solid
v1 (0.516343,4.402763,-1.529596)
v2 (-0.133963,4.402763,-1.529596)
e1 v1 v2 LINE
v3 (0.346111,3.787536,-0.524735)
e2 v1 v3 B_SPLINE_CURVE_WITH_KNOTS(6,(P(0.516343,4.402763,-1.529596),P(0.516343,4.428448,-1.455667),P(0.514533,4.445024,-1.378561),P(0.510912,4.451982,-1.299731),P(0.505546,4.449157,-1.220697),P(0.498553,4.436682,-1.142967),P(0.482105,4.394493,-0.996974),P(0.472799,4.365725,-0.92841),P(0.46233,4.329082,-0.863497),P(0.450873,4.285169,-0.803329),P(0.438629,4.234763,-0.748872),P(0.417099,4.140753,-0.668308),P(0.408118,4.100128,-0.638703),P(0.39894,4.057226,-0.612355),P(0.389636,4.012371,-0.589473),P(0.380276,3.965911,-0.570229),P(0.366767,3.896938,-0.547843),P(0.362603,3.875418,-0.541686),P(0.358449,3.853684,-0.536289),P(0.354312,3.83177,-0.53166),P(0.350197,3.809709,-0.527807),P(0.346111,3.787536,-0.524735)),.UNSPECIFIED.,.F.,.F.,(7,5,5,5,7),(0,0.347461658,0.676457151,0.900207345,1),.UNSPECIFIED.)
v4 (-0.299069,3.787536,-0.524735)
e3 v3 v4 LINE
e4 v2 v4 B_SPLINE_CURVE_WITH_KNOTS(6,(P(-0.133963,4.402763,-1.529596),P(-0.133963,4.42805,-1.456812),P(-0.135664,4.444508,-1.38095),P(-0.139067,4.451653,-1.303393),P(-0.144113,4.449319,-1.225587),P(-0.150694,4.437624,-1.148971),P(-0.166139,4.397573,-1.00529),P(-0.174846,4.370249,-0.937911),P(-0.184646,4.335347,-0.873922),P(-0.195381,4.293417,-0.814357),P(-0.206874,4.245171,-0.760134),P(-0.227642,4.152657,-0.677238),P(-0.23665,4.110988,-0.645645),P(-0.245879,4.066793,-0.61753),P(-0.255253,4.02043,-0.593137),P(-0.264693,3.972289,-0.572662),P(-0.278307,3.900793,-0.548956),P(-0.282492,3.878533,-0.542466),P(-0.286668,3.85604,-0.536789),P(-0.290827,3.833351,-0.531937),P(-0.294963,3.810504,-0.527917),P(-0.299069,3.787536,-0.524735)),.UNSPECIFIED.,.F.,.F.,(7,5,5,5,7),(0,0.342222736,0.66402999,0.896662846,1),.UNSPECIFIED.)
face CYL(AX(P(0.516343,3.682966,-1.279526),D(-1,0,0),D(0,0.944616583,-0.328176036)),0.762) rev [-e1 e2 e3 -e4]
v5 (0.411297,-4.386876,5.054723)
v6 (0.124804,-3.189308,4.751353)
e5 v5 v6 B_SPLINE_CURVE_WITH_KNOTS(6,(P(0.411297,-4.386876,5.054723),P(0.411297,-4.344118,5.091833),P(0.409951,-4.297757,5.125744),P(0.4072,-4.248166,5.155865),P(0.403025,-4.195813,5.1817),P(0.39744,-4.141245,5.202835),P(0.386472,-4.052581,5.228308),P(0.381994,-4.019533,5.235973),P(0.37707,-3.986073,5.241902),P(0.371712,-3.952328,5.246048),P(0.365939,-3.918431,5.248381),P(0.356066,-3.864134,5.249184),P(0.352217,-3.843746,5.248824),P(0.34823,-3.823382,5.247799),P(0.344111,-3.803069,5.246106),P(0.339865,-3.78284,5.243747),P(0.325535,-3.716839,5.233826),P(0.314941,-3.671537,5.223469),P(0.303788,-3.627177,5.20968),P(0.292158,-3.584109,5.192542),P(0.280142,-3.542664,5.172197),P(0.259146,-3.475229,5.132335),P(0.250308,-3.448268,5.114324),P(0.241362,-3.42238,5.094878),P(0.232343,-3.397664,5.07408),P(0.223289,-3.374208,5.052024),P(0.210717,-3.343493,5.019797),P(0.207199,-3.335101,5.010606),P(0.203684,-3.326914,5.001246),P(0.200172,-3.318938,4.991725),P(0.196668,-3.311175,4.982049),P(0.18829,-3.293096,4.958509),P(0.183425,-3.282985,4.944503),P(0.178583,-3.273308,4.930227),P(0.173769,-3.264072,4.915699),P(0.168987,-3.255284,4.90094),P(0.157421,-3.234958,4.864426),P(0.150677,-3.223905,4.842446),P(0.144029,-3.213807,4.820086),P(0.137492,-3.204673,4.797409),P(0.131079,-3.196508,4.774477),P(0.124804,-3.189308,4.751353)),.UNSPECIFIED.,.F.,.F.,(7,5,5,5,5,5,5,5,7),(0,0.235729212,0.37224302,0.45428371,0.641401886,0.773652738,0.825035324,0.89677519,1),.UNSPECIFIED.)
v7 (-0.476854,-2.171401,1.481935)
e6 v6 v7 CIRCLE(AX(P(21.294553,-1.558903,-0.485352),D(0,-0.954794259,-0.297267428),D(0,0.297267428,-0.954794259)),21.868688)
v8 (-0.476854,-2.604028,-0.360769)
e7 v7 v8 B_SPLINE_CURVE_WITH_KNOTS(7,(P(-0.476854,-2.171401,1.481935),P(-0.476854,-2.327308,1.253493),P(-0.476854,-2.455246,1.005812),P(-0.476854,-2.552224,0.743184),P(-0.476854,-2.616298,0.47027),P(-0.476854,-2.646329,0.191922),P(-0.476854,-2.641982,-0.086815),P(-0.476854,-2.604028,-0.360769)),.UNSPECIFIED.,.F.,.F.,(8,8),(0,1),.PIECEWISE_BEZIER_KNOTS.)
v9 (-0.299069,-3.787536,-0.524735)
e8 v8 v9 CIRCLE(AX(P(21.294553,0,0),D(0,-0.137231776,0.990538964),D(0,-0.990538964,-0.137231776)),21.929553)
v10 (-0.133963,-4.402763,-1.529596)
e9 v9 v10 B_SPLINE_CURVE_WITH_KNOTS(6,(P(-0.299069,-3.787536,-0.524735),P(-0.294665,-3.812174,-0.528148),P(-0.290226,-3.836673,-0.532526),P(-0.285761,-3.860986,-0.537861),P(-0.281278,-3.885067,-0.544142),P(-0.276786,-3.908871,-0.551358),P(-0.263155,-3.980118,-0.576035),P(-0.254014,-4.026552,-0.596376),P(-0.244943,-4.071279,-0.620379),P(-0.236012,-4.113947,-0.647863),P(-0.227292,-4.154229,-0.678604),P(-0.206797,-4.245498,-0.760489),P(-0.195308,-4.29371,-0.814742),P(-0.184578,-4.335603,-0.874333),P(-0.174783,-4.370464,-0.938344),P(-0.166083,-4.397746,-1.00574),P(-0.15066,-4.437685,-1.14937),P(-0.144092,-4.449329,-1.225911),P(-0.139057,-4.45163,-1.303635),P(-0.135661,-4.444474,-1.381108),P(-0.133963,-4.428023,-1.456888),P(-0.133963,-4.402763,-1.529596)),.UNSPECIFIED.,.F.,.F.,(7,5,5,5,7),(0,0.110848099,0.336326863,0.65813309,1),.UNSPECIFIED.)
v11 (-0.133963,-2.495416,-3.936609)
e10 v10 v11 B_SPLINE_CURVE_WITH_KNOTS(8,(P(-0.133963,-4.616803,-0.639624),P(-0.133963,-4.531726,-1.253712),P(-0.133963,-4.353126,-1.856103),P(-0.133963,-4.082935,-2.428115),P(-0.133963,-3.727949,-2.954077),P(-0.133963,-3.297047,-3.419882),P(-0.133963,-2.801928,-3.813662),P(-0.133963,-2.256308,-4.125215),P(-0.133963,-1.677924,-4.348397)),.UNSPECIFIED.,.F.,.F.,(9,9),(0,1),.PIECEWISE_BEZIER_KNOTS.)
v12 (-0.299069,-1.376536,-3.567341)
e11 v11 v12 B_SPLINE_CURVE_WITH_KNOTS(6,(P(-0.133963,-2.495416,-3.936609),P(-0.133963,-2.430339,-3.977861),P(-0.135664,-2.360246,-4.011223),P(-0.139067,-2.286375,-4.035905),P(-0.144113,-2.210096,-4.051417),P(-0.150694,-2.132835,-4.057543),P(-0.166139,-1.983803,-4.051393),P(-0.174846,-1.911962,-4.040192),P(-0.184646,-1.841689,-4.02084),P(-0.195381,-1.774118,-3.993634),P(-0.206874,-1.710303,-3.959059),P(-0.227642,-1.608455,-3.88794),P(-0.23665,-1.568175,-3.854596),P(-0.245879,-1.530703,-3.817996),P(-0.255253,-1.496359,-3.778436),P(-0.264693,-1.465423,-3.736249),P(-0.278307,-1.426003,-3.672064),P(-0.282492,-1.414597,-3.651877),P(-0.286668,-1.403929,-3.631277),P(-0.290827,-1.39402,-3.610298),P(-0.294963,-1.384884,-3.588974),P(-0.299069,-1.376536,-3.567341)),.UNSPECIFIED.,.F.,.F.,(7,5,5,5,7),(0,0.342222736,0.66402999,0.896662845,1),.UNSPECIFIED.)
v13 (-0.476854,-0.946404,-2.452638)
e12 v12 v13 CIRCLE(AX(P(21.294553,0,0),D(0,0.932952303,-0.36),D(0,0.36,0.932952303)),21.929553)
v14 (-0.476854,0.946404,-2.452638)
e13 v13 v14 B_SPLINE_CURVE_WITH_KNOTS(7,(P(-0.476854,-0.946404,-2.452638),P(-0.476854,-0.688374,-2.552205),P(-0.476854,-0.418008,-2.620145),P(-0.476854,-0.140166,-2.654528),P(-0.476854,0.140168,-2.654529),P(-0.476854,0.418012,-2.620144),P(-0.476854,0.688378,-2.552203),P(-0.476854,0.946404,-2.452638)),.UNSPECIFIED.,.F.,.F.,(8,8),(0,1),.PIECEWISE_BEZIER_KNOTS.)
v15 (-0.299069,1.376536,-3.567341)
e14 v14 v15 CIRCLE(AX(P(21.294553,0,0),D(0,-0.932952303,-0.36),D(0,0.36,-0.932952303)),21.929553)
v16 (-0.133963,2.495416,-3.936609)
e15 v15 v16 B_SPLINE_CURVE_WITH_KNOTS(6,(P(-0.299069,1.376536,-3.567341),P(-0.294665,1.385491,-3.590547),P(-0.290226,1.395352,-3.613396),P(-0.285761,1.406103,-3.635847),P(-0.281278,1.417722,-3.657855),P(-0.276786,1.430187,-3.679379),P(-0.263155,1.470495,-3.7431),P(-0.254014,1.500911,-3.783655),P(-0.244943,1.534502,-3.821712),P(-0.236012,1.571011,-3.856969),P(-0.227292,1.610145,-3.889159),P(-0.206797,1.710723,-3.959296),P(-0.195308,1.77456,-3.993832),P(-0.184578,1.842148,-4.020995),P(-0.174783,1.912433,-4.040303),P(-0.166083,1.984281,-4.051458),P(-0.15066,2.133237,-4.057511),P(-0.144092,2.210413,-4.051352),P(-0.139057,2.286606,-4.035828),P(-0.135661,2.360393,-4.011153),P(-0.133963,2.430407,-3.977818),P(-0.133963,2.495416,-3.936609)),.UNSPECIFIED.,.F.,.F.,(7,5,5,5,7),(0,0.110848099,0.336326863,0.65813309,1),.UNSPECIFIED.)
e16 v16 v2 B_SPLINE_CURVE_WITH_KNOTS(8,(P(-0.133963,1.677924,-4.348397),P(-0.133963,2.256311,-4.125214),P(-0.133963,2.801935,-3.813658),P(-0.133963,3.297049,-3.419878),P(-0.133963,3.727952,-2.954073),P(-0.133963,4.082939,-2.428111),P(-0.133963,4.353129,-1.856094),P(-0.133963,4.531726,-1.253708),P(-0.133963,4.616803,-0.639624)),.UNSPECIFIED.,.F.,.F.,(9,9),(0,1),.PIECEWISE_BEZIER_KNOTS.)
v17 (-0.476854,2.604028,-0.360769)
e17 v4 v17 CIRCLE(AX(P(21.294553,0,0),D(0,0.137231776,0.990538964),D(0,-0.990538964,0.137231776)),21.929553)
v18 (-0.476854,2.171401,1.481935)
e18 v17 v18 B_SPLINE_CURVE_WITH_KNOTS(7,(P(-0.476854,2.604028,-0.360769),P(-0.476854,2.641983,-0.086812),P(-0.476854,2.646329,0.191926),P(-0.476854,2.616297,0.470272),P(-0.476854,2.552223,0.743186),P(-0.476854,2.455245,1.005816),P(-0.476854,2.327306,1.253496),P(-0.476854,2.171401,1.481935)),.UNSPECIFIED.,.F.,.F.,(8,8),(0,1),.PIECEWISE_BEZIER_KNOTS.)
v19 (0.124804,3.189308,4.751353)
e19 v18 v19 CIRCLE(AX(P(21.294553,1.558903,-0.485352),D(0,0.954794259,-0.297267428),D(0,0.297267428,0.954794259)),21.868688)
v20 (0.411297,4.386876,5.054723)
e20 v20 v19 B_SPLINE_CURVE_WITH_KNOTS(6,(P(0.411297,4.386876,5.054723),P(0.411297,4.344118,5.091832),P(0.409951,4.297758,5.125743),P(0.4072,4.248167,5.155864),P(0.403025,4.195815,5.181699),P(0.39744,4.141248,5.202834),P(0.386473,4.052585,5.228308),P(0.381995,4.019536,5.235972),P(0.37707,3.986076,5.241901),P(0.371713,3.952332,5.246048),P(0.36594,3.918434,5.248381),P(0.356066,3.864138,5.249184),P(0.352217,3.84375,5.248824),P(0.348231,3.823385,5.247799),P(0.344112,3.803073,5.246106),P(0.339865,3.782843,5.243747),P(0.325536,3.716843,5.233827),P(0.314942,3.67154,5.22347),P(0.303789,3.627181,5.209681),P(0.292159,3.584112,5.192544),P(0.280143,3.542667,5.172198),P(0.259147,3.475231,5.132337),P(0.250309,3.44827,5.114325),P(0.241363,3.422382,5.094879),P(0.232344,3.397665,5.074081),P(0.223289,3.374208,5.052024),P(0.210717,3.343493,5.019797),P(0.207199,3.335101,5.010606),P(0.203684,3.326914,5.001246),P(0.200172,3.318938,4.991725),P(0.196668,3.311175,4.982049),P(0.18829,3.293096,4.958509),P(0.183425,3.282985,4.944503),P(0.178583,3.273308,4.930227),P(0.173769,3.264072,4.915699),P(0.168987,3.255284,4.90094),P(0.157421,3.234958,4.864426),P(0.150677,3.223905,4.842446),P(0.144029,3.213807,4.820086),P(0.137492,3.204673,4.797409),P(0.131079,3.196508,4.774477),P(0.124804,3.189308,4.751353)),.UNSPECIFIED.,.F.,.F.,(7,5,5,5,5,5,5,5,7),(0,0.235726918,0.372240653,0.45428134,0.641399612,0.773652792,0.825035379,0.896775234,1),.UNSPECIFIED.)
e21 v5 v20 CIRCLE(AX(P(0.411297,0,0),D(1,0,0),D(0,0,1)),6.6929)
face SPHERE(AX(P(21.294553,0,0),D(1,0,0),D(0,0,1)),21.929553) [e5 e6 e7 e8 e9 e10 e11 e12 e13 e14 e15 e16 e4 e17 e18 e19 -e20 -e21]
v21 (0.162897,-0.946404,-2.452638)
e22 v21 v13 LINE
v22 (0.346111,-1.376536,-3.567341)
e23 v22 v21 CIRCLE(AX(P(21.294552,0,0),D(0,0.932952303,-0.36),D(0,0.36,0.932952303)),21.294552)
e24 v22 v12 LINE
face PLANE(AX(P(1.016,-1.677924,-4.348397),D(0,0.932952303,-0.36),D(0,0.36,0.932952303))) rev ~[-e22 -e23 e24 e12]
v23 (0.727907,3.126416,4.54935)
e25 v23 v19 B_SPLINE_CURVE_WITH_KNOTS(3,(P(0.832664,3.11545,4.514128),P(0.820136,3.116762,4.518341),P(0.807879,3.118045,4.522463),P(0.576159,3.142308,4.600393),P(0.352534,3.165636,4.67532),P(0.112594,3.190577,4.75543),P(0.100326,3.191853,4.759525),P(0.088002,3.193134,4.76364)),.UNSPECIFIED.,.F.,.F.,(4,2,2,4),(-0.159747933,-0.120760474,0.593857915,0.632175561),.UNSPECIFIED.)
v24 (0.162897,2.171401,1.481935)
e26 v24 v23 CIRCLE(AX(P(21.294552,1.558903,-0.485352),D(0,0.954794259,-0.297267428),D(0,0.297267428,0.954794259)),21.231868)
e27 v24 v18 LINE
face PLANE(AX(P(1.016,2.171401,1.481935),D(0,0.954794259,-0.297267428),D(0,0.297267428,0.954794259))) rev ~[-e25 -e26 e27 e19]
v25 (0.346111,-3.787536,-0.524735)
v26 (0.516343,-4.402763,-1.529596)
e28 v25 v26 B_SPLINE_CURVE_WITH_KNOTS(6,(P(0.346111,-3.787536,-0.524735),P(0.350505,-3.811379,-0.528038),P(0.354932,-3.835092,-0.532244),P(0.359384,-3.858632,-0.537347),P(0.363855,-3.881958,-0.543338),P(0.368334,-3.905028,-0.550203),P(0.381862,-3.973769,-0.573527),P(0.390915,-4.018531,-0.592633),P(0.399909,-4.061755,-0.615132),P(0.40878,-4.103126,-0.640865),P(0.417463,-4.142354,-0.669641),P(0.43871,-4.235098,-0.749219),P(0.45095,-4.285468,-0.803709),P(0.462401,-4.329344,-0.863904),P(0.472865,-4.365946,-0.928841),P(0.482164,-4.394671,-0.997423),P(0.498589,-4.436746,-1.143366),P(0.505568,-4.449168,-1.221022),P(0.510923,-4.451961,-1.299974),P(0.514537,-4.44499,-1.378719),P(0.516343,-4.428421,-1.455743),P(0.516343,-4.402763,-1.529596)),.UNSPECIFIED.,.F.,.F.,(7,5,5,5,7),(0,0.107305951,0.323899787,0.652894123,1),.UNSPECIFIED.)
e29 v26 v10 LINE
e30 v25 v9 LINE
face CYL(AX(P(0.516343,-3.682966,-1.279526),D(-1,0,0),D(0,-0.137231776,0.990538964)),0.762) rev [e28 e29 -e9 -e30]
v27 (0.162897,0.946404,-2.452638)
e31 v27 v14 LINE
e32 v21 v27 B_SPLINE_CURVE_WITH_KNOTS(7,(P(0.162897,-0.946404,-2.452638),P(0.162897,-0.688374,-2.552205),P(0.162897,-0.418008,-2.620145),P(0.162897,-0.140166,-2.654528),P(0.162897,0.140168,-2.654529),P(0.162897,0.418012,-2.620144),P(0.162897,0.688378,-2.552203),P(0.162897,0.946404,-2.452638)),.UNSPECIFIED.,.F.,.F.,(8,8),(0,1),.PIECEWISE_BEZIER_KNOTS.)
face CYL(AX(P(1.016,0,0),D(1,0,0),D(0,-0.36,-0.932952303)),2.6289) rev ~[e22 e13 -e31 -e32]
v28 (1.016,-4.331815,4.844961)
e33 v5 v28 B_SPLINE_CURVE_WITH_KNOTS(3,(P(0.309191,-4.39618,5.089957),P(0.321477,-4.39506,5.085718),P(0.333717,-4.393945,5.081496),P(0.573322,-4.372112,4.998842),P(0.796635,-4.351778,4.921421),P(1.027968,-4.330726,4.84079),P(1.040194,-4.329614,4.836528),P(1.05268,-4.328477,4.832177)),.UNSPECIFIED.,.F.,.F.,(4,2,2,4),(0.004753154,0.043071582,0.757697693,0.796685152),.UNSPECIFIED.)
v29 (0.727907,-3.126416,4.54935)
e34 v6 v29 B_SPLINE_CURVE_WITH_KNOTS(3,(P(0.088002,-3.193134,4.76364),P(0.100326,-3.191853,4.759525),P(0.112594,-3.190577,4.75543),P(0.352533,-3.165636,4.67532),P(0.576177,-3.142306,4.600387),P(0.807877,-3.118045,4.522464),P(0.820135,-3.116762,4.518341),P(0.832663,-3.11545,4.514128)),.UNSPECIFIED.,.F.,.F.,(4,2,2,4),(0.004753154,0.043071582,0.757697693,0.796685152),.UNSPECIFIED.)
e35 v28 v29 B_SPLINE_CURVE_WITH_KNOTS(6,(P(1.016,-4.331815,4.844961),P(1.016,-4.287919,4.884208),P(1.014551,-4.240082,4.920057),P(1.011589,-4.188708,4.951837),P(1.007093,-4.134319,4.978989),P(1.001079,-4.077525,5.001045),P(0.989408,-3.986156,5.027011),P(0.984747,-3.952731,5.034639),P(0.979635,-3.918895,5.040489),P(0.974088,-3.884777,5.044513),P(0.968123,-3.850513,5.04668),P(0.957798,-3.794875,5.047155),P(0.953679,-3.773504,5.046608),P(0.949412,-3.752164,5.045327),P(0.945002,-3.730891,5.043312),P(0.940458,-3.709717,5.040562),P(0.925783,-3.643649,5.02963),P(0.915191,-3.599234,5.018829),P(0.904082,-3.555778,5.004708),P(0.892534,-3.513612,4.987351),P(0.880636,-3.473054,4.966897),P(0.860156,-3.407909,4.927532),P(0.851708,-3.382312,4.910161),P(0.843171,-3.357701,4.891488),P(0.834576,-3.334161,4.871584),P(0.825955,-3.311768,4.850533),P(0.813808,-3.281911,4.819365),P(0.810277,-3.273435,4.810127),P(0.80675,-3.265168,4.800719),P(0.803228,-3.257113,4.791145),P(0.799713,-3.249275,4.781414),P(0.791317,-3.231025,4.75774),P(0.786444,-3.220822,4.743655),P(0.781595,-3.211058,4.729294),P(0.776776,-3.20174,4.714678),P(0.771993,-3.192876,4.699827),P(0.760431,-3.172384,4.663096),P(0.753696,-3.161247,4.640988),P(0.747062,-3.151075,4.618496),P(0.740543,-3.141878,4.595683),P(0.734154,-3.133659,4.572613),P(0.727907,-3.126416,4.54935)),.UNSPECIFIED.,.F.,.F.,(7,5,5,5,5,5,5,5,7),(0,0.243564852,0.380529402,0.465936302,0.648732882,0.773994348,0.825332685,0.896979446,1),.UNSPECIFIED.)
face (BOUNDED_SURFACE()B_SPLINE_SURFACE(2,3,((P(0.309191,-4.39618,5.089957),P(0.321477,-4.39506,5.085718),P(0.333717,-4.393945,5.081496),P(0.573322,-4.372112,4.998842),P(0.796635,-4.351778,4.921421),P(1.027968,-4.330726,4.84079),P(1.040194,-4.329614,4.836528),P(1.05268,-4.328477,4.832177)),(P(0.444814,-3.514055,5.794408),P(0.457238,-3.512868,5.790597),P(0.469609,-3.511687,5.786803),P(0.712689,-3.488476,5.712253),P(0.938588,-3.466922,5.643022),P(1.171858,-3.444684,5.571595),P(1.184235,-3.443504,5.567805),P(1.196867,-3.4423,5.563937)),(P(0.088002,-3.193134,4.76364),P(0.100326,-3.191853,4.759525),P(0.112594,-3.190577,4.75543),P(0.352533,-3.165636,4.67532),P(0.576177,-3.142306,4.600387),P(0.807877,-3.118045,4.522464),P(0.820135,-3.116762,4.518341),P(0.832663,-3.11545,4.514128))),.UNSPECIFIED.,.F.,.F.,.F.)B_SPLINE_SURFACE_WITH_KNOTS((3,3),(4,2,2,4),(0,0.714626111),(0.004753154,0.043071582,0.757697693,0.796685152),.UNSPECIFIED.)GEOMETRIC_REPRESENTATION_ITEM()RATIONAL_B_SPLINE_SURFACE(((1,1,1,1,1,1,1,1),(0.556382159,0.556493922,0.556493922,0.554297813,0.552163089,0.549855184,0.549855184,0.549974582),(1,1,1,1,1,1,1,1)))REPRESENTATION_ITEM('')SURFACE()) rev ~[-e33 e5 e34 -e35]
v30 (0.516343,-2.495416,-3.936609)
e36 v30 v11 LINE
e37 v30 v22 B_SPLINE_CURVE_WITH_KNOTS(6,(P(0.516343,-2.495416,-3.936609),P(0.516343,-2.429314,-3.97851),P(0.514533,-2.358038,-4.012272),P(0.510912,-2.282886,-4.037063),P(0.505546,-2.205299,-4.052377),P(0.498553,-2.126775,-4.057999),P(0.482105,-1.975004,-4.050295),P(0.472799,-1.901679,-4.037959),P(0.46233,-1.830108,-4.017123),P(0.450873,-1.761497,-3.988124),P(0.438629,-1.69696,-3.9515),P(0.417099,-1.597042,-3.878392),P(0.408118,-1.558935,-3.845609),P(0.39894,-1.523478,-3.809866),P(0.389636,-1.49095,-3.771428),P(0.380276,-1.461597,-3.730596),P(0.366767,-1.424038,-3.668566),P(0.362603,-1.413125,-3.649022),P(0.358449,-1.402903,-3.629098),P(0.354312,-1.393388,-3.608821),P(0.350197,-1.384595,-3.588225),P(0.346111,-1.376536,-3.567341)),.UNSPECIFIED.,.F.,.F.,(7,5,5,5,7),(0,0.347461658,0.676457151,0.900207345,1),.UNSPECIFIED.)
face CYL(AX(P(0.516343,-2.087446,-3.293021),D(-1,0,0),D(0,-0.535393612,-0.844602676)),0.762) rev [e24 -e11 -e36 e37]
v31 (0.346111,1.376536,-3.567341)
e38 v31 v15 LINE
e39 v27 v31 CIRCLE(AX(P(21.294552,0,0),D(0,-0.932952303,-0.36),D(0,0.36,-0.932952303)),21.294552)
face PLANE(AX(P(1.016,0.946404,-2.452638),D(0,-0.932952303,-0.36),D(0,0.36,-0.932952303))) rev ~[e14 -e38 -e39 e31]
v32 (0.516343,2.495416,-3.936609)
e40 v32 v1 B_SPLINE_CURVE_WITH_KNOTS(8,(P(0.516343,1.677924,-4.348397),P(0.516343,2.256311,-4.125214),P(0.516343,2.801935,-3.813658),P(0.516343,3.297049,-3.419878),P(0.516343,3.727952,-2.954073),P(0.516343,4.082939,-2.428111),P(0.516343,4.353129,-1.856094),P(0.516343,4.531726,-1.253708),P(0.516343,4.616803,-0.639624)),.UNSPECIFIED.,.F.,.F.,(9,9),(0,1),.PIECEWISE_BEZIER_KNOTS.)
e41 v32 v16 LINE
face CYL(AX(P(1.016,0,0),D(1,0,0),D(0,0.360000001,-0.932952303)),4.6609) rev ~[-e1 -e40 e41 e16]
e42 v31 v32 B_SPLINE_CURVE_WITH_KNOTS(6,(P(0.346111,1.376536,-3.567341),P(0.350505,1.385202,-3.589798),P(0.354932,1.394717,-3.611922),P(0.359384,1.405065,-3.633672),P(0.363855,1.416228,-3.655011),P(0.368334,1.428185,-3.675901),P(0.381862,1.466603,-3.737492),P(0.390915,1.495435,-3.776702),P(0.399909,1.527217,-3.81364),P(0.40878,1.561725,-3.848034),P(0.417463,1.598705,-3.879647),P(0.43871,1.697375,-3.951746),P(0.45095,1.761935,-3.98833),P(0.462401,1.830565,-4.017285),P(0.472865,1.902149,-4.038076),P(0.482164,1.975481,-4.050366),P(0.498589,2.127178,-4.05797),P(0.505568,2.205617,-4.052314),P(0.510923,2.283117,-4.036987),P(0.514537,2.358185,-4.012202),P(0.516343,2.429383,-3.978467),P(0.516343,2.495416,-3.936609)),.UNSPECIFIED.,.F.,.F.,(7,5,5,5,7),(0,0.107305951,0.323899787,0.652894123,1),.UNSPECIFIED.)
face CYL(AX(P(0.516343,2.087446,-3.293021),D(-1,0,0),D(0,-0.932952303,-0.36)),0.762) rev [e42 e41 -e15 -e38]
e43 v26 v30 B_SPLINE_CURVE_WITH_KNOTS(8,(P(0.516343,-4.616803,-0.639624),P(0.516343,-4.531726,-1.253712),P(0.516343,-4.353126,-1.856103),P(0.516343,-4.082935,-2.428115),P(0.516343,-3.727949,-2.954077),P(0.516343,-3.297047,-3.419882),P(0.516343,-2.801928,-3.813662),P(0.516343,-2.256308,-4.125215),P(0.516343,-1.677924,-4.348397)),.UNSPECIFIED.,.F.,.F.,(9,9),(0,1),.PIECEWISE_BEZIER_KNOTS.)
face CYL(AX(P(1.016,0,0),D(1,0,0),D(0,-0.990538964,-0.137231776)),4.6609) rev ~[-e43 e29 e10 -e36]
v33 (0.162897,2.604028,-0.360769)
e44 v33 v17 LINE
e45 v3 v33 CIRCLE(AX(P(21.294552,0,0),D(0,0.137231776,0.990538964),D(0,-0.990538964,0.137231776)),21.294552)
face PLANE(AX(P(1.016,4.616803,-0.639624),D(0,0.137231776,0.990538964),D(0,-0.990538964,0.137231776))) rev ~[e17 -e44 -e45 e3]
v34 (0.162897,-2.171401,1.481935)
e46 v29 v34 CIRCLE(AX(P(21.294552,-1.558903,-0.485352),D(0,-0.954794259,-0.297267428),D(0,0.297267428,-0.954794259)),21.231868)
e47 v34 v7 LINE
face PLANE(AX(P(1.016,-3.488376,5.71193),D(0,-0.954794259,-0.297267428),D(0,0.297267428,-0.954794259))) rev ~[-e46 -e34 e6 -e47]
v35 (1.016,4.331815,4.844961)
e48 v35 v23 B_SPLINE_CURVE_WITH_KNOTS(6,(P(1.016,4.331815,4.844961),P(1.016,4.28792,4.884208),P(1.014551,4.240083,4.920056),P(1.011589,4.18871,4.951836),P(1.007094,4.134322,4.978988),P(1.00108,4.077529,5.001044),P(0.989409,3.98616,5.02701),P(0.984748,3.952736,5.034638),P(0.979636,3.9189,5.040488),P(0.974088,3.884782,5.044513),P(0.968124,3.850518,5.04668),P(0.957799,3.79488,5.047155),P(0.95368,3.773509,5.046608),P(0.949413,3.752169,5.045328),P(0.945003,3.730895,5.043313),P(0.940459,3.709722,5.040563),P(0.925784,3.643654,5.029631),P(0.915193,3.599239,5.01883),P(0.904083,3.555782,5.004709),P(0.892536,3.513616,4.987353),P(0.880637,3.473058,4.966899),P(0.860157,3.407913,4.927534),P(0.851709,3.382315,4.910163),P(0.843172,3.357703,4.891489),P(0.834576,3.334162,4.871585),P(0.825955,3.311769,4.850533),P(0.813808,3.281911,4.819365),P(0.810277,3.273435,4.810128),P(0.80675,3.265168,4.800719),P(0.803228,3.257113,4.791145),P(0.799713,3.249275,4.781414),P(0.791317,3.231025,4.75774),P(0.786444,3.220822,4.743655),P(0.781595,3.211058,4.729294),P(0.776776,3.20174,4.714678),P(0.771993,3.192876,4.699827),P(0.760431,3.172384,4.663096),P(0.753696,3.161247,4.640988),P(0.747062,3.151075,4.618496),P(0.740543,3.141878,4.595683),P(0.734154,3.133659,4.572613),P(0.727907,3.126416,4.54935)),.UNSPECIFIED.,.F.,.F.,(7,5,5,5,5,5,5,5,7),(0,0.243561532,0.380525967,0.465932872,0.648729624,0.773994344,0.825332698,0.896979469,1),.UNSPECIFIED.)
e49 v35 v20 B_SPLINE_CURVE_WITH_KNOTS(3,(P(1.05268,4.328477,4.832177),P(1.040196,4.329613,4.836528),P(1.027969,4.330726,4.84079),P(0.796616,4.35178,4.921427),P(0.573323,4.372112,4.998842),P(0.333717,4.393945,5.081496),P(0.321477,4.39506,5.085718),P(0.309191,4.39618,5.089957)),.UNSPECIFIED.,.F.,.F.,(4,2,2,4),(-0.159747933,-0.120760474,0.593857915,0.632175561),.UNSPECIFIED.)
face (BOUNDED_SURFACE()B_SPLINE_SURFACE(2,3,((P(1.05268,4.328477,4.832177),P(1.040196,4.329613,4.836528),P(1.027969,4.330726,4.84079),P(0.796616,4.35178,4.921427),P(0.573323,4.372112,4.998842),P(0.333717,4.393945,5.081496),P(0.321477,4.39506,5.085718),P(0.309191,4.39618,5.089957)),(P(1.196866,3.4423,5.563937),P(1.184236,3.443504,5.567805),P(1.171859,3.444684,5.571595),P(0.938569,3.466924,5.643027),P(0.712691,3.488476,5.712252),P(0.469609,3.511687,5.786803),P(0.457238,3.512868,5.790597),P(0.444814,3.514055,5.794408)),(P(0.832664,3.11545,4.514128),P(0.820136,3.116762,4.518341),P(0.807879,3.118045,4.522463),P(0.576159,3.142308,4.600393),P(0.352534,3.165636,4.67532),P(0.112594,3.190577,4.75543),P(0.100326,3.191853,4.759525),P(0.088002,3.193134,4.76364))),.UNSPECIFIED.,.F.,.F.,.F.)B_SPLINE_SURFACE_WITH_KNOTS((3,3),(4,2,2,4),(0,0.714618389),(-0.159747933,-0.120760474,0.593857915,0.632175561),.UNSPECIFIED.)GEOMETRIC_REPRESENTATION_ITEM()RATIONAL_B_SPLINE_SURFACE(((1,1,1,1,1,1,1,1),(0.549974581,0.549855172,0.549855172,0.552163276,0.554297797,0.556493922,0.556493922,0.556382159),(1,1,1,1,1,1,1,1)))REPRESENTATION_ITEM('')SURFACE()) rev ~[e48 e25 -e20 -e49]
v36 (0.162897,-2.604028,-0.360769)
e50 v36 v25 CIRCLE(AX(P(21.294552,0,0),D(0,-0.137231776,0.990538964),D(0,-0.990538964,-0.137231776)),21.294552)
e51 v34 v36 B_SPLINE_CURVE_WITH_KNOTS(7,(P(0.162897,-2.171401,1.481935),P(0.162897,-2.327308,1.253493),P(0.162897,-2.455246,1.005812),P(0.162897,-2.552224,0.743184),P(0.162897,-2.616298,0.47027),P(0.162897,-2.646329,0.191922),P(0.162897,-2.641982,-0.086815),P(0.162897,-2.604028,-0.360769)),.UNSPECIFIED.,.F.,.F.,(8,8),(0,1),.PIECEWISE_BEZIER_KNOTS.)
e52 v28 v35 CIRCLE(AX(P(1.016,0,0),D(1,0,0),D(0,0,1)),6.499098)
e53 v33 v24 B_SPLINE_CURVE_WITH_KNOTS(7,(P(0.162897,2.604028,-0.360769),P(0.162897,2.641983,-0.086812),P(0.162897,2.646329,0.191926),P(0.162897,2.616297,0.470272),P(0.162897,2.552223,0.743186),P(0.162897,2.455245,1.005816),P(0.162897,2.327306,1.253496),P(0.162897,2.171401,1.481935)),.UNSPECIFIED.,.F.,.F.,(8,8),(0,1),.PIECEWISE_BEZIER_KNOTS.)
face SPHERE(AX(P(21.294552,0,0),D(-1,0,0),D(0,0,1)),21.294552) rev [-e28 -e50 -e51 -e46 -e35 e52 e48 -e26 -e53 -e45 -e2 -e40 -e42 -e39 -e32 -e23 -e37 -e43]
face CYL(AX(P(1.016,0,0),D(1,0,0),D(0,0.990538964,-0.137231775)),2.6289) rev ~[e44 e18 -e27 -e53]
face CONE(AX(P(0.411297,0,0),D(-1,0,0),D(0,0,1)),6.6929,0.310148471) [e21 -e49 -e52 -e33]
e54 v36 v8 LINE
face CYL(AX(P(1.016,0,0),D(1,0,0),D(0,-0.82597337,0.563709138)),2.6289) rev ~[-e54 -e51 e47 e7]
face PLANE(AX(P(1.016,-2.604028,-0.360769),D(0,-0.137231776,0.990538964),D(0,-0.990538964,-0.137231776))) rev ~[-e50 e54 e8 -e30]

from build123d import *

# Parameters (mm, degrees)
CUT_EXTRUDE1_DEPTH = 10.608101884
FILLET1_R          = 0.762


with BuildPart() as part:
    # Sketch2 → Revolve1 (revolve)
    with BuildSketch(Plane(origin=(0, 0, 0), x_dir=(1, 0, 0), z_dir=(0, 1, 0)), mode=Mode.PRIVATE) as revolve1_sk:
        with BuildLine():
            Line((0.41129695, 6.6929), (1.016, 6.499097983))
            ThreePointArc((1.016, 6.499097983), (0.255533191, 3.289016973), (0, 0))
            Line((0, 0), (-0.635, 0))
            ThreePointArc((-0.635, 0), (-0.371846852, 3.38709491), (0.41129695, 6.6929))
        make_face()
    revolve(revolve1_sk.sketch.rotate(Axis((0, 0, 0), (1, 0, 0)), 180), axis=Axis((0, 0, 0), (1, 0, 0)))

    # Sketch1 → Cut-Extrude1 (cut, through all)
    with BuildSketch(Plane(origin=(1.016, 0, 0), x_dir=(0, 0, -1), z_dir=(1, 0, 0))):
        with BuildLine():
            Line((-5.711929949, -3.488375935), (-1.481934955, -2.171401391))
            ThreePointArc((-1.481934955, -2.171401391), (-0.600870128, -2.559310512), (0.360768614, -2.604027883))
            Line((0.360768614, -2.604027883), (0.639623582, -4.616803059))
            ThreePointArc((0.639623582, -4.616803059), (2.89470911, -3.653032709), (4.34839739, -1.677924))
            Line((4.34839739, -1.677924), (2.45263831, -0.946404))
            ThreePointArc((2.45263831, -0.946404), (2.6289, 0), (2.45263831, 0.946404))
            Line((2.45263831, 0.946404), (4.34839739, 1.677924))
            ThreePointArc((4.34839739, 1.677924), (2.89470911, 3.653032709), (0.639623582, 4.616803059))
            Line((0.639623582, 4.616803059), (0.360768614, 2.604027883))
            ThreePointArc((0.360768614, 2.604027883), (-0.600870128, 2.559310512), (-1.481934955, 2.171401391))
            Line((-1.481934955, 2.171401391), (-5.711929949, 3.488375935))
            ThreePointArc((-5.711929949, 3.488375935), (-6.6929, 0), (-5.711929949, -3.488375935))
        make_face()
    extrude(amount=-CUT_EXTRUDE1_DEPTH, mode=Mode.SUBTRACT)

    # Fillet1
    fillet1_edges = [part.edges().sort_by_distance(p)[0] for p in [
        (0.191190066, 4.616803059, -0.639623582),
        (0.191190066, 1.677924, -4.34839739),
        (0.191190066, -1.677924, -4.34839739),
        (0.191190066, -4.616803059, -0.639623582),
        (0.713662776, -3.458657833, 5.616478276),
        (0.713662776, 3.458657833, 5.616478276),
    ]]
    fillet(fillet1_edges, radius=FILLET1_R)


solid = part.part
